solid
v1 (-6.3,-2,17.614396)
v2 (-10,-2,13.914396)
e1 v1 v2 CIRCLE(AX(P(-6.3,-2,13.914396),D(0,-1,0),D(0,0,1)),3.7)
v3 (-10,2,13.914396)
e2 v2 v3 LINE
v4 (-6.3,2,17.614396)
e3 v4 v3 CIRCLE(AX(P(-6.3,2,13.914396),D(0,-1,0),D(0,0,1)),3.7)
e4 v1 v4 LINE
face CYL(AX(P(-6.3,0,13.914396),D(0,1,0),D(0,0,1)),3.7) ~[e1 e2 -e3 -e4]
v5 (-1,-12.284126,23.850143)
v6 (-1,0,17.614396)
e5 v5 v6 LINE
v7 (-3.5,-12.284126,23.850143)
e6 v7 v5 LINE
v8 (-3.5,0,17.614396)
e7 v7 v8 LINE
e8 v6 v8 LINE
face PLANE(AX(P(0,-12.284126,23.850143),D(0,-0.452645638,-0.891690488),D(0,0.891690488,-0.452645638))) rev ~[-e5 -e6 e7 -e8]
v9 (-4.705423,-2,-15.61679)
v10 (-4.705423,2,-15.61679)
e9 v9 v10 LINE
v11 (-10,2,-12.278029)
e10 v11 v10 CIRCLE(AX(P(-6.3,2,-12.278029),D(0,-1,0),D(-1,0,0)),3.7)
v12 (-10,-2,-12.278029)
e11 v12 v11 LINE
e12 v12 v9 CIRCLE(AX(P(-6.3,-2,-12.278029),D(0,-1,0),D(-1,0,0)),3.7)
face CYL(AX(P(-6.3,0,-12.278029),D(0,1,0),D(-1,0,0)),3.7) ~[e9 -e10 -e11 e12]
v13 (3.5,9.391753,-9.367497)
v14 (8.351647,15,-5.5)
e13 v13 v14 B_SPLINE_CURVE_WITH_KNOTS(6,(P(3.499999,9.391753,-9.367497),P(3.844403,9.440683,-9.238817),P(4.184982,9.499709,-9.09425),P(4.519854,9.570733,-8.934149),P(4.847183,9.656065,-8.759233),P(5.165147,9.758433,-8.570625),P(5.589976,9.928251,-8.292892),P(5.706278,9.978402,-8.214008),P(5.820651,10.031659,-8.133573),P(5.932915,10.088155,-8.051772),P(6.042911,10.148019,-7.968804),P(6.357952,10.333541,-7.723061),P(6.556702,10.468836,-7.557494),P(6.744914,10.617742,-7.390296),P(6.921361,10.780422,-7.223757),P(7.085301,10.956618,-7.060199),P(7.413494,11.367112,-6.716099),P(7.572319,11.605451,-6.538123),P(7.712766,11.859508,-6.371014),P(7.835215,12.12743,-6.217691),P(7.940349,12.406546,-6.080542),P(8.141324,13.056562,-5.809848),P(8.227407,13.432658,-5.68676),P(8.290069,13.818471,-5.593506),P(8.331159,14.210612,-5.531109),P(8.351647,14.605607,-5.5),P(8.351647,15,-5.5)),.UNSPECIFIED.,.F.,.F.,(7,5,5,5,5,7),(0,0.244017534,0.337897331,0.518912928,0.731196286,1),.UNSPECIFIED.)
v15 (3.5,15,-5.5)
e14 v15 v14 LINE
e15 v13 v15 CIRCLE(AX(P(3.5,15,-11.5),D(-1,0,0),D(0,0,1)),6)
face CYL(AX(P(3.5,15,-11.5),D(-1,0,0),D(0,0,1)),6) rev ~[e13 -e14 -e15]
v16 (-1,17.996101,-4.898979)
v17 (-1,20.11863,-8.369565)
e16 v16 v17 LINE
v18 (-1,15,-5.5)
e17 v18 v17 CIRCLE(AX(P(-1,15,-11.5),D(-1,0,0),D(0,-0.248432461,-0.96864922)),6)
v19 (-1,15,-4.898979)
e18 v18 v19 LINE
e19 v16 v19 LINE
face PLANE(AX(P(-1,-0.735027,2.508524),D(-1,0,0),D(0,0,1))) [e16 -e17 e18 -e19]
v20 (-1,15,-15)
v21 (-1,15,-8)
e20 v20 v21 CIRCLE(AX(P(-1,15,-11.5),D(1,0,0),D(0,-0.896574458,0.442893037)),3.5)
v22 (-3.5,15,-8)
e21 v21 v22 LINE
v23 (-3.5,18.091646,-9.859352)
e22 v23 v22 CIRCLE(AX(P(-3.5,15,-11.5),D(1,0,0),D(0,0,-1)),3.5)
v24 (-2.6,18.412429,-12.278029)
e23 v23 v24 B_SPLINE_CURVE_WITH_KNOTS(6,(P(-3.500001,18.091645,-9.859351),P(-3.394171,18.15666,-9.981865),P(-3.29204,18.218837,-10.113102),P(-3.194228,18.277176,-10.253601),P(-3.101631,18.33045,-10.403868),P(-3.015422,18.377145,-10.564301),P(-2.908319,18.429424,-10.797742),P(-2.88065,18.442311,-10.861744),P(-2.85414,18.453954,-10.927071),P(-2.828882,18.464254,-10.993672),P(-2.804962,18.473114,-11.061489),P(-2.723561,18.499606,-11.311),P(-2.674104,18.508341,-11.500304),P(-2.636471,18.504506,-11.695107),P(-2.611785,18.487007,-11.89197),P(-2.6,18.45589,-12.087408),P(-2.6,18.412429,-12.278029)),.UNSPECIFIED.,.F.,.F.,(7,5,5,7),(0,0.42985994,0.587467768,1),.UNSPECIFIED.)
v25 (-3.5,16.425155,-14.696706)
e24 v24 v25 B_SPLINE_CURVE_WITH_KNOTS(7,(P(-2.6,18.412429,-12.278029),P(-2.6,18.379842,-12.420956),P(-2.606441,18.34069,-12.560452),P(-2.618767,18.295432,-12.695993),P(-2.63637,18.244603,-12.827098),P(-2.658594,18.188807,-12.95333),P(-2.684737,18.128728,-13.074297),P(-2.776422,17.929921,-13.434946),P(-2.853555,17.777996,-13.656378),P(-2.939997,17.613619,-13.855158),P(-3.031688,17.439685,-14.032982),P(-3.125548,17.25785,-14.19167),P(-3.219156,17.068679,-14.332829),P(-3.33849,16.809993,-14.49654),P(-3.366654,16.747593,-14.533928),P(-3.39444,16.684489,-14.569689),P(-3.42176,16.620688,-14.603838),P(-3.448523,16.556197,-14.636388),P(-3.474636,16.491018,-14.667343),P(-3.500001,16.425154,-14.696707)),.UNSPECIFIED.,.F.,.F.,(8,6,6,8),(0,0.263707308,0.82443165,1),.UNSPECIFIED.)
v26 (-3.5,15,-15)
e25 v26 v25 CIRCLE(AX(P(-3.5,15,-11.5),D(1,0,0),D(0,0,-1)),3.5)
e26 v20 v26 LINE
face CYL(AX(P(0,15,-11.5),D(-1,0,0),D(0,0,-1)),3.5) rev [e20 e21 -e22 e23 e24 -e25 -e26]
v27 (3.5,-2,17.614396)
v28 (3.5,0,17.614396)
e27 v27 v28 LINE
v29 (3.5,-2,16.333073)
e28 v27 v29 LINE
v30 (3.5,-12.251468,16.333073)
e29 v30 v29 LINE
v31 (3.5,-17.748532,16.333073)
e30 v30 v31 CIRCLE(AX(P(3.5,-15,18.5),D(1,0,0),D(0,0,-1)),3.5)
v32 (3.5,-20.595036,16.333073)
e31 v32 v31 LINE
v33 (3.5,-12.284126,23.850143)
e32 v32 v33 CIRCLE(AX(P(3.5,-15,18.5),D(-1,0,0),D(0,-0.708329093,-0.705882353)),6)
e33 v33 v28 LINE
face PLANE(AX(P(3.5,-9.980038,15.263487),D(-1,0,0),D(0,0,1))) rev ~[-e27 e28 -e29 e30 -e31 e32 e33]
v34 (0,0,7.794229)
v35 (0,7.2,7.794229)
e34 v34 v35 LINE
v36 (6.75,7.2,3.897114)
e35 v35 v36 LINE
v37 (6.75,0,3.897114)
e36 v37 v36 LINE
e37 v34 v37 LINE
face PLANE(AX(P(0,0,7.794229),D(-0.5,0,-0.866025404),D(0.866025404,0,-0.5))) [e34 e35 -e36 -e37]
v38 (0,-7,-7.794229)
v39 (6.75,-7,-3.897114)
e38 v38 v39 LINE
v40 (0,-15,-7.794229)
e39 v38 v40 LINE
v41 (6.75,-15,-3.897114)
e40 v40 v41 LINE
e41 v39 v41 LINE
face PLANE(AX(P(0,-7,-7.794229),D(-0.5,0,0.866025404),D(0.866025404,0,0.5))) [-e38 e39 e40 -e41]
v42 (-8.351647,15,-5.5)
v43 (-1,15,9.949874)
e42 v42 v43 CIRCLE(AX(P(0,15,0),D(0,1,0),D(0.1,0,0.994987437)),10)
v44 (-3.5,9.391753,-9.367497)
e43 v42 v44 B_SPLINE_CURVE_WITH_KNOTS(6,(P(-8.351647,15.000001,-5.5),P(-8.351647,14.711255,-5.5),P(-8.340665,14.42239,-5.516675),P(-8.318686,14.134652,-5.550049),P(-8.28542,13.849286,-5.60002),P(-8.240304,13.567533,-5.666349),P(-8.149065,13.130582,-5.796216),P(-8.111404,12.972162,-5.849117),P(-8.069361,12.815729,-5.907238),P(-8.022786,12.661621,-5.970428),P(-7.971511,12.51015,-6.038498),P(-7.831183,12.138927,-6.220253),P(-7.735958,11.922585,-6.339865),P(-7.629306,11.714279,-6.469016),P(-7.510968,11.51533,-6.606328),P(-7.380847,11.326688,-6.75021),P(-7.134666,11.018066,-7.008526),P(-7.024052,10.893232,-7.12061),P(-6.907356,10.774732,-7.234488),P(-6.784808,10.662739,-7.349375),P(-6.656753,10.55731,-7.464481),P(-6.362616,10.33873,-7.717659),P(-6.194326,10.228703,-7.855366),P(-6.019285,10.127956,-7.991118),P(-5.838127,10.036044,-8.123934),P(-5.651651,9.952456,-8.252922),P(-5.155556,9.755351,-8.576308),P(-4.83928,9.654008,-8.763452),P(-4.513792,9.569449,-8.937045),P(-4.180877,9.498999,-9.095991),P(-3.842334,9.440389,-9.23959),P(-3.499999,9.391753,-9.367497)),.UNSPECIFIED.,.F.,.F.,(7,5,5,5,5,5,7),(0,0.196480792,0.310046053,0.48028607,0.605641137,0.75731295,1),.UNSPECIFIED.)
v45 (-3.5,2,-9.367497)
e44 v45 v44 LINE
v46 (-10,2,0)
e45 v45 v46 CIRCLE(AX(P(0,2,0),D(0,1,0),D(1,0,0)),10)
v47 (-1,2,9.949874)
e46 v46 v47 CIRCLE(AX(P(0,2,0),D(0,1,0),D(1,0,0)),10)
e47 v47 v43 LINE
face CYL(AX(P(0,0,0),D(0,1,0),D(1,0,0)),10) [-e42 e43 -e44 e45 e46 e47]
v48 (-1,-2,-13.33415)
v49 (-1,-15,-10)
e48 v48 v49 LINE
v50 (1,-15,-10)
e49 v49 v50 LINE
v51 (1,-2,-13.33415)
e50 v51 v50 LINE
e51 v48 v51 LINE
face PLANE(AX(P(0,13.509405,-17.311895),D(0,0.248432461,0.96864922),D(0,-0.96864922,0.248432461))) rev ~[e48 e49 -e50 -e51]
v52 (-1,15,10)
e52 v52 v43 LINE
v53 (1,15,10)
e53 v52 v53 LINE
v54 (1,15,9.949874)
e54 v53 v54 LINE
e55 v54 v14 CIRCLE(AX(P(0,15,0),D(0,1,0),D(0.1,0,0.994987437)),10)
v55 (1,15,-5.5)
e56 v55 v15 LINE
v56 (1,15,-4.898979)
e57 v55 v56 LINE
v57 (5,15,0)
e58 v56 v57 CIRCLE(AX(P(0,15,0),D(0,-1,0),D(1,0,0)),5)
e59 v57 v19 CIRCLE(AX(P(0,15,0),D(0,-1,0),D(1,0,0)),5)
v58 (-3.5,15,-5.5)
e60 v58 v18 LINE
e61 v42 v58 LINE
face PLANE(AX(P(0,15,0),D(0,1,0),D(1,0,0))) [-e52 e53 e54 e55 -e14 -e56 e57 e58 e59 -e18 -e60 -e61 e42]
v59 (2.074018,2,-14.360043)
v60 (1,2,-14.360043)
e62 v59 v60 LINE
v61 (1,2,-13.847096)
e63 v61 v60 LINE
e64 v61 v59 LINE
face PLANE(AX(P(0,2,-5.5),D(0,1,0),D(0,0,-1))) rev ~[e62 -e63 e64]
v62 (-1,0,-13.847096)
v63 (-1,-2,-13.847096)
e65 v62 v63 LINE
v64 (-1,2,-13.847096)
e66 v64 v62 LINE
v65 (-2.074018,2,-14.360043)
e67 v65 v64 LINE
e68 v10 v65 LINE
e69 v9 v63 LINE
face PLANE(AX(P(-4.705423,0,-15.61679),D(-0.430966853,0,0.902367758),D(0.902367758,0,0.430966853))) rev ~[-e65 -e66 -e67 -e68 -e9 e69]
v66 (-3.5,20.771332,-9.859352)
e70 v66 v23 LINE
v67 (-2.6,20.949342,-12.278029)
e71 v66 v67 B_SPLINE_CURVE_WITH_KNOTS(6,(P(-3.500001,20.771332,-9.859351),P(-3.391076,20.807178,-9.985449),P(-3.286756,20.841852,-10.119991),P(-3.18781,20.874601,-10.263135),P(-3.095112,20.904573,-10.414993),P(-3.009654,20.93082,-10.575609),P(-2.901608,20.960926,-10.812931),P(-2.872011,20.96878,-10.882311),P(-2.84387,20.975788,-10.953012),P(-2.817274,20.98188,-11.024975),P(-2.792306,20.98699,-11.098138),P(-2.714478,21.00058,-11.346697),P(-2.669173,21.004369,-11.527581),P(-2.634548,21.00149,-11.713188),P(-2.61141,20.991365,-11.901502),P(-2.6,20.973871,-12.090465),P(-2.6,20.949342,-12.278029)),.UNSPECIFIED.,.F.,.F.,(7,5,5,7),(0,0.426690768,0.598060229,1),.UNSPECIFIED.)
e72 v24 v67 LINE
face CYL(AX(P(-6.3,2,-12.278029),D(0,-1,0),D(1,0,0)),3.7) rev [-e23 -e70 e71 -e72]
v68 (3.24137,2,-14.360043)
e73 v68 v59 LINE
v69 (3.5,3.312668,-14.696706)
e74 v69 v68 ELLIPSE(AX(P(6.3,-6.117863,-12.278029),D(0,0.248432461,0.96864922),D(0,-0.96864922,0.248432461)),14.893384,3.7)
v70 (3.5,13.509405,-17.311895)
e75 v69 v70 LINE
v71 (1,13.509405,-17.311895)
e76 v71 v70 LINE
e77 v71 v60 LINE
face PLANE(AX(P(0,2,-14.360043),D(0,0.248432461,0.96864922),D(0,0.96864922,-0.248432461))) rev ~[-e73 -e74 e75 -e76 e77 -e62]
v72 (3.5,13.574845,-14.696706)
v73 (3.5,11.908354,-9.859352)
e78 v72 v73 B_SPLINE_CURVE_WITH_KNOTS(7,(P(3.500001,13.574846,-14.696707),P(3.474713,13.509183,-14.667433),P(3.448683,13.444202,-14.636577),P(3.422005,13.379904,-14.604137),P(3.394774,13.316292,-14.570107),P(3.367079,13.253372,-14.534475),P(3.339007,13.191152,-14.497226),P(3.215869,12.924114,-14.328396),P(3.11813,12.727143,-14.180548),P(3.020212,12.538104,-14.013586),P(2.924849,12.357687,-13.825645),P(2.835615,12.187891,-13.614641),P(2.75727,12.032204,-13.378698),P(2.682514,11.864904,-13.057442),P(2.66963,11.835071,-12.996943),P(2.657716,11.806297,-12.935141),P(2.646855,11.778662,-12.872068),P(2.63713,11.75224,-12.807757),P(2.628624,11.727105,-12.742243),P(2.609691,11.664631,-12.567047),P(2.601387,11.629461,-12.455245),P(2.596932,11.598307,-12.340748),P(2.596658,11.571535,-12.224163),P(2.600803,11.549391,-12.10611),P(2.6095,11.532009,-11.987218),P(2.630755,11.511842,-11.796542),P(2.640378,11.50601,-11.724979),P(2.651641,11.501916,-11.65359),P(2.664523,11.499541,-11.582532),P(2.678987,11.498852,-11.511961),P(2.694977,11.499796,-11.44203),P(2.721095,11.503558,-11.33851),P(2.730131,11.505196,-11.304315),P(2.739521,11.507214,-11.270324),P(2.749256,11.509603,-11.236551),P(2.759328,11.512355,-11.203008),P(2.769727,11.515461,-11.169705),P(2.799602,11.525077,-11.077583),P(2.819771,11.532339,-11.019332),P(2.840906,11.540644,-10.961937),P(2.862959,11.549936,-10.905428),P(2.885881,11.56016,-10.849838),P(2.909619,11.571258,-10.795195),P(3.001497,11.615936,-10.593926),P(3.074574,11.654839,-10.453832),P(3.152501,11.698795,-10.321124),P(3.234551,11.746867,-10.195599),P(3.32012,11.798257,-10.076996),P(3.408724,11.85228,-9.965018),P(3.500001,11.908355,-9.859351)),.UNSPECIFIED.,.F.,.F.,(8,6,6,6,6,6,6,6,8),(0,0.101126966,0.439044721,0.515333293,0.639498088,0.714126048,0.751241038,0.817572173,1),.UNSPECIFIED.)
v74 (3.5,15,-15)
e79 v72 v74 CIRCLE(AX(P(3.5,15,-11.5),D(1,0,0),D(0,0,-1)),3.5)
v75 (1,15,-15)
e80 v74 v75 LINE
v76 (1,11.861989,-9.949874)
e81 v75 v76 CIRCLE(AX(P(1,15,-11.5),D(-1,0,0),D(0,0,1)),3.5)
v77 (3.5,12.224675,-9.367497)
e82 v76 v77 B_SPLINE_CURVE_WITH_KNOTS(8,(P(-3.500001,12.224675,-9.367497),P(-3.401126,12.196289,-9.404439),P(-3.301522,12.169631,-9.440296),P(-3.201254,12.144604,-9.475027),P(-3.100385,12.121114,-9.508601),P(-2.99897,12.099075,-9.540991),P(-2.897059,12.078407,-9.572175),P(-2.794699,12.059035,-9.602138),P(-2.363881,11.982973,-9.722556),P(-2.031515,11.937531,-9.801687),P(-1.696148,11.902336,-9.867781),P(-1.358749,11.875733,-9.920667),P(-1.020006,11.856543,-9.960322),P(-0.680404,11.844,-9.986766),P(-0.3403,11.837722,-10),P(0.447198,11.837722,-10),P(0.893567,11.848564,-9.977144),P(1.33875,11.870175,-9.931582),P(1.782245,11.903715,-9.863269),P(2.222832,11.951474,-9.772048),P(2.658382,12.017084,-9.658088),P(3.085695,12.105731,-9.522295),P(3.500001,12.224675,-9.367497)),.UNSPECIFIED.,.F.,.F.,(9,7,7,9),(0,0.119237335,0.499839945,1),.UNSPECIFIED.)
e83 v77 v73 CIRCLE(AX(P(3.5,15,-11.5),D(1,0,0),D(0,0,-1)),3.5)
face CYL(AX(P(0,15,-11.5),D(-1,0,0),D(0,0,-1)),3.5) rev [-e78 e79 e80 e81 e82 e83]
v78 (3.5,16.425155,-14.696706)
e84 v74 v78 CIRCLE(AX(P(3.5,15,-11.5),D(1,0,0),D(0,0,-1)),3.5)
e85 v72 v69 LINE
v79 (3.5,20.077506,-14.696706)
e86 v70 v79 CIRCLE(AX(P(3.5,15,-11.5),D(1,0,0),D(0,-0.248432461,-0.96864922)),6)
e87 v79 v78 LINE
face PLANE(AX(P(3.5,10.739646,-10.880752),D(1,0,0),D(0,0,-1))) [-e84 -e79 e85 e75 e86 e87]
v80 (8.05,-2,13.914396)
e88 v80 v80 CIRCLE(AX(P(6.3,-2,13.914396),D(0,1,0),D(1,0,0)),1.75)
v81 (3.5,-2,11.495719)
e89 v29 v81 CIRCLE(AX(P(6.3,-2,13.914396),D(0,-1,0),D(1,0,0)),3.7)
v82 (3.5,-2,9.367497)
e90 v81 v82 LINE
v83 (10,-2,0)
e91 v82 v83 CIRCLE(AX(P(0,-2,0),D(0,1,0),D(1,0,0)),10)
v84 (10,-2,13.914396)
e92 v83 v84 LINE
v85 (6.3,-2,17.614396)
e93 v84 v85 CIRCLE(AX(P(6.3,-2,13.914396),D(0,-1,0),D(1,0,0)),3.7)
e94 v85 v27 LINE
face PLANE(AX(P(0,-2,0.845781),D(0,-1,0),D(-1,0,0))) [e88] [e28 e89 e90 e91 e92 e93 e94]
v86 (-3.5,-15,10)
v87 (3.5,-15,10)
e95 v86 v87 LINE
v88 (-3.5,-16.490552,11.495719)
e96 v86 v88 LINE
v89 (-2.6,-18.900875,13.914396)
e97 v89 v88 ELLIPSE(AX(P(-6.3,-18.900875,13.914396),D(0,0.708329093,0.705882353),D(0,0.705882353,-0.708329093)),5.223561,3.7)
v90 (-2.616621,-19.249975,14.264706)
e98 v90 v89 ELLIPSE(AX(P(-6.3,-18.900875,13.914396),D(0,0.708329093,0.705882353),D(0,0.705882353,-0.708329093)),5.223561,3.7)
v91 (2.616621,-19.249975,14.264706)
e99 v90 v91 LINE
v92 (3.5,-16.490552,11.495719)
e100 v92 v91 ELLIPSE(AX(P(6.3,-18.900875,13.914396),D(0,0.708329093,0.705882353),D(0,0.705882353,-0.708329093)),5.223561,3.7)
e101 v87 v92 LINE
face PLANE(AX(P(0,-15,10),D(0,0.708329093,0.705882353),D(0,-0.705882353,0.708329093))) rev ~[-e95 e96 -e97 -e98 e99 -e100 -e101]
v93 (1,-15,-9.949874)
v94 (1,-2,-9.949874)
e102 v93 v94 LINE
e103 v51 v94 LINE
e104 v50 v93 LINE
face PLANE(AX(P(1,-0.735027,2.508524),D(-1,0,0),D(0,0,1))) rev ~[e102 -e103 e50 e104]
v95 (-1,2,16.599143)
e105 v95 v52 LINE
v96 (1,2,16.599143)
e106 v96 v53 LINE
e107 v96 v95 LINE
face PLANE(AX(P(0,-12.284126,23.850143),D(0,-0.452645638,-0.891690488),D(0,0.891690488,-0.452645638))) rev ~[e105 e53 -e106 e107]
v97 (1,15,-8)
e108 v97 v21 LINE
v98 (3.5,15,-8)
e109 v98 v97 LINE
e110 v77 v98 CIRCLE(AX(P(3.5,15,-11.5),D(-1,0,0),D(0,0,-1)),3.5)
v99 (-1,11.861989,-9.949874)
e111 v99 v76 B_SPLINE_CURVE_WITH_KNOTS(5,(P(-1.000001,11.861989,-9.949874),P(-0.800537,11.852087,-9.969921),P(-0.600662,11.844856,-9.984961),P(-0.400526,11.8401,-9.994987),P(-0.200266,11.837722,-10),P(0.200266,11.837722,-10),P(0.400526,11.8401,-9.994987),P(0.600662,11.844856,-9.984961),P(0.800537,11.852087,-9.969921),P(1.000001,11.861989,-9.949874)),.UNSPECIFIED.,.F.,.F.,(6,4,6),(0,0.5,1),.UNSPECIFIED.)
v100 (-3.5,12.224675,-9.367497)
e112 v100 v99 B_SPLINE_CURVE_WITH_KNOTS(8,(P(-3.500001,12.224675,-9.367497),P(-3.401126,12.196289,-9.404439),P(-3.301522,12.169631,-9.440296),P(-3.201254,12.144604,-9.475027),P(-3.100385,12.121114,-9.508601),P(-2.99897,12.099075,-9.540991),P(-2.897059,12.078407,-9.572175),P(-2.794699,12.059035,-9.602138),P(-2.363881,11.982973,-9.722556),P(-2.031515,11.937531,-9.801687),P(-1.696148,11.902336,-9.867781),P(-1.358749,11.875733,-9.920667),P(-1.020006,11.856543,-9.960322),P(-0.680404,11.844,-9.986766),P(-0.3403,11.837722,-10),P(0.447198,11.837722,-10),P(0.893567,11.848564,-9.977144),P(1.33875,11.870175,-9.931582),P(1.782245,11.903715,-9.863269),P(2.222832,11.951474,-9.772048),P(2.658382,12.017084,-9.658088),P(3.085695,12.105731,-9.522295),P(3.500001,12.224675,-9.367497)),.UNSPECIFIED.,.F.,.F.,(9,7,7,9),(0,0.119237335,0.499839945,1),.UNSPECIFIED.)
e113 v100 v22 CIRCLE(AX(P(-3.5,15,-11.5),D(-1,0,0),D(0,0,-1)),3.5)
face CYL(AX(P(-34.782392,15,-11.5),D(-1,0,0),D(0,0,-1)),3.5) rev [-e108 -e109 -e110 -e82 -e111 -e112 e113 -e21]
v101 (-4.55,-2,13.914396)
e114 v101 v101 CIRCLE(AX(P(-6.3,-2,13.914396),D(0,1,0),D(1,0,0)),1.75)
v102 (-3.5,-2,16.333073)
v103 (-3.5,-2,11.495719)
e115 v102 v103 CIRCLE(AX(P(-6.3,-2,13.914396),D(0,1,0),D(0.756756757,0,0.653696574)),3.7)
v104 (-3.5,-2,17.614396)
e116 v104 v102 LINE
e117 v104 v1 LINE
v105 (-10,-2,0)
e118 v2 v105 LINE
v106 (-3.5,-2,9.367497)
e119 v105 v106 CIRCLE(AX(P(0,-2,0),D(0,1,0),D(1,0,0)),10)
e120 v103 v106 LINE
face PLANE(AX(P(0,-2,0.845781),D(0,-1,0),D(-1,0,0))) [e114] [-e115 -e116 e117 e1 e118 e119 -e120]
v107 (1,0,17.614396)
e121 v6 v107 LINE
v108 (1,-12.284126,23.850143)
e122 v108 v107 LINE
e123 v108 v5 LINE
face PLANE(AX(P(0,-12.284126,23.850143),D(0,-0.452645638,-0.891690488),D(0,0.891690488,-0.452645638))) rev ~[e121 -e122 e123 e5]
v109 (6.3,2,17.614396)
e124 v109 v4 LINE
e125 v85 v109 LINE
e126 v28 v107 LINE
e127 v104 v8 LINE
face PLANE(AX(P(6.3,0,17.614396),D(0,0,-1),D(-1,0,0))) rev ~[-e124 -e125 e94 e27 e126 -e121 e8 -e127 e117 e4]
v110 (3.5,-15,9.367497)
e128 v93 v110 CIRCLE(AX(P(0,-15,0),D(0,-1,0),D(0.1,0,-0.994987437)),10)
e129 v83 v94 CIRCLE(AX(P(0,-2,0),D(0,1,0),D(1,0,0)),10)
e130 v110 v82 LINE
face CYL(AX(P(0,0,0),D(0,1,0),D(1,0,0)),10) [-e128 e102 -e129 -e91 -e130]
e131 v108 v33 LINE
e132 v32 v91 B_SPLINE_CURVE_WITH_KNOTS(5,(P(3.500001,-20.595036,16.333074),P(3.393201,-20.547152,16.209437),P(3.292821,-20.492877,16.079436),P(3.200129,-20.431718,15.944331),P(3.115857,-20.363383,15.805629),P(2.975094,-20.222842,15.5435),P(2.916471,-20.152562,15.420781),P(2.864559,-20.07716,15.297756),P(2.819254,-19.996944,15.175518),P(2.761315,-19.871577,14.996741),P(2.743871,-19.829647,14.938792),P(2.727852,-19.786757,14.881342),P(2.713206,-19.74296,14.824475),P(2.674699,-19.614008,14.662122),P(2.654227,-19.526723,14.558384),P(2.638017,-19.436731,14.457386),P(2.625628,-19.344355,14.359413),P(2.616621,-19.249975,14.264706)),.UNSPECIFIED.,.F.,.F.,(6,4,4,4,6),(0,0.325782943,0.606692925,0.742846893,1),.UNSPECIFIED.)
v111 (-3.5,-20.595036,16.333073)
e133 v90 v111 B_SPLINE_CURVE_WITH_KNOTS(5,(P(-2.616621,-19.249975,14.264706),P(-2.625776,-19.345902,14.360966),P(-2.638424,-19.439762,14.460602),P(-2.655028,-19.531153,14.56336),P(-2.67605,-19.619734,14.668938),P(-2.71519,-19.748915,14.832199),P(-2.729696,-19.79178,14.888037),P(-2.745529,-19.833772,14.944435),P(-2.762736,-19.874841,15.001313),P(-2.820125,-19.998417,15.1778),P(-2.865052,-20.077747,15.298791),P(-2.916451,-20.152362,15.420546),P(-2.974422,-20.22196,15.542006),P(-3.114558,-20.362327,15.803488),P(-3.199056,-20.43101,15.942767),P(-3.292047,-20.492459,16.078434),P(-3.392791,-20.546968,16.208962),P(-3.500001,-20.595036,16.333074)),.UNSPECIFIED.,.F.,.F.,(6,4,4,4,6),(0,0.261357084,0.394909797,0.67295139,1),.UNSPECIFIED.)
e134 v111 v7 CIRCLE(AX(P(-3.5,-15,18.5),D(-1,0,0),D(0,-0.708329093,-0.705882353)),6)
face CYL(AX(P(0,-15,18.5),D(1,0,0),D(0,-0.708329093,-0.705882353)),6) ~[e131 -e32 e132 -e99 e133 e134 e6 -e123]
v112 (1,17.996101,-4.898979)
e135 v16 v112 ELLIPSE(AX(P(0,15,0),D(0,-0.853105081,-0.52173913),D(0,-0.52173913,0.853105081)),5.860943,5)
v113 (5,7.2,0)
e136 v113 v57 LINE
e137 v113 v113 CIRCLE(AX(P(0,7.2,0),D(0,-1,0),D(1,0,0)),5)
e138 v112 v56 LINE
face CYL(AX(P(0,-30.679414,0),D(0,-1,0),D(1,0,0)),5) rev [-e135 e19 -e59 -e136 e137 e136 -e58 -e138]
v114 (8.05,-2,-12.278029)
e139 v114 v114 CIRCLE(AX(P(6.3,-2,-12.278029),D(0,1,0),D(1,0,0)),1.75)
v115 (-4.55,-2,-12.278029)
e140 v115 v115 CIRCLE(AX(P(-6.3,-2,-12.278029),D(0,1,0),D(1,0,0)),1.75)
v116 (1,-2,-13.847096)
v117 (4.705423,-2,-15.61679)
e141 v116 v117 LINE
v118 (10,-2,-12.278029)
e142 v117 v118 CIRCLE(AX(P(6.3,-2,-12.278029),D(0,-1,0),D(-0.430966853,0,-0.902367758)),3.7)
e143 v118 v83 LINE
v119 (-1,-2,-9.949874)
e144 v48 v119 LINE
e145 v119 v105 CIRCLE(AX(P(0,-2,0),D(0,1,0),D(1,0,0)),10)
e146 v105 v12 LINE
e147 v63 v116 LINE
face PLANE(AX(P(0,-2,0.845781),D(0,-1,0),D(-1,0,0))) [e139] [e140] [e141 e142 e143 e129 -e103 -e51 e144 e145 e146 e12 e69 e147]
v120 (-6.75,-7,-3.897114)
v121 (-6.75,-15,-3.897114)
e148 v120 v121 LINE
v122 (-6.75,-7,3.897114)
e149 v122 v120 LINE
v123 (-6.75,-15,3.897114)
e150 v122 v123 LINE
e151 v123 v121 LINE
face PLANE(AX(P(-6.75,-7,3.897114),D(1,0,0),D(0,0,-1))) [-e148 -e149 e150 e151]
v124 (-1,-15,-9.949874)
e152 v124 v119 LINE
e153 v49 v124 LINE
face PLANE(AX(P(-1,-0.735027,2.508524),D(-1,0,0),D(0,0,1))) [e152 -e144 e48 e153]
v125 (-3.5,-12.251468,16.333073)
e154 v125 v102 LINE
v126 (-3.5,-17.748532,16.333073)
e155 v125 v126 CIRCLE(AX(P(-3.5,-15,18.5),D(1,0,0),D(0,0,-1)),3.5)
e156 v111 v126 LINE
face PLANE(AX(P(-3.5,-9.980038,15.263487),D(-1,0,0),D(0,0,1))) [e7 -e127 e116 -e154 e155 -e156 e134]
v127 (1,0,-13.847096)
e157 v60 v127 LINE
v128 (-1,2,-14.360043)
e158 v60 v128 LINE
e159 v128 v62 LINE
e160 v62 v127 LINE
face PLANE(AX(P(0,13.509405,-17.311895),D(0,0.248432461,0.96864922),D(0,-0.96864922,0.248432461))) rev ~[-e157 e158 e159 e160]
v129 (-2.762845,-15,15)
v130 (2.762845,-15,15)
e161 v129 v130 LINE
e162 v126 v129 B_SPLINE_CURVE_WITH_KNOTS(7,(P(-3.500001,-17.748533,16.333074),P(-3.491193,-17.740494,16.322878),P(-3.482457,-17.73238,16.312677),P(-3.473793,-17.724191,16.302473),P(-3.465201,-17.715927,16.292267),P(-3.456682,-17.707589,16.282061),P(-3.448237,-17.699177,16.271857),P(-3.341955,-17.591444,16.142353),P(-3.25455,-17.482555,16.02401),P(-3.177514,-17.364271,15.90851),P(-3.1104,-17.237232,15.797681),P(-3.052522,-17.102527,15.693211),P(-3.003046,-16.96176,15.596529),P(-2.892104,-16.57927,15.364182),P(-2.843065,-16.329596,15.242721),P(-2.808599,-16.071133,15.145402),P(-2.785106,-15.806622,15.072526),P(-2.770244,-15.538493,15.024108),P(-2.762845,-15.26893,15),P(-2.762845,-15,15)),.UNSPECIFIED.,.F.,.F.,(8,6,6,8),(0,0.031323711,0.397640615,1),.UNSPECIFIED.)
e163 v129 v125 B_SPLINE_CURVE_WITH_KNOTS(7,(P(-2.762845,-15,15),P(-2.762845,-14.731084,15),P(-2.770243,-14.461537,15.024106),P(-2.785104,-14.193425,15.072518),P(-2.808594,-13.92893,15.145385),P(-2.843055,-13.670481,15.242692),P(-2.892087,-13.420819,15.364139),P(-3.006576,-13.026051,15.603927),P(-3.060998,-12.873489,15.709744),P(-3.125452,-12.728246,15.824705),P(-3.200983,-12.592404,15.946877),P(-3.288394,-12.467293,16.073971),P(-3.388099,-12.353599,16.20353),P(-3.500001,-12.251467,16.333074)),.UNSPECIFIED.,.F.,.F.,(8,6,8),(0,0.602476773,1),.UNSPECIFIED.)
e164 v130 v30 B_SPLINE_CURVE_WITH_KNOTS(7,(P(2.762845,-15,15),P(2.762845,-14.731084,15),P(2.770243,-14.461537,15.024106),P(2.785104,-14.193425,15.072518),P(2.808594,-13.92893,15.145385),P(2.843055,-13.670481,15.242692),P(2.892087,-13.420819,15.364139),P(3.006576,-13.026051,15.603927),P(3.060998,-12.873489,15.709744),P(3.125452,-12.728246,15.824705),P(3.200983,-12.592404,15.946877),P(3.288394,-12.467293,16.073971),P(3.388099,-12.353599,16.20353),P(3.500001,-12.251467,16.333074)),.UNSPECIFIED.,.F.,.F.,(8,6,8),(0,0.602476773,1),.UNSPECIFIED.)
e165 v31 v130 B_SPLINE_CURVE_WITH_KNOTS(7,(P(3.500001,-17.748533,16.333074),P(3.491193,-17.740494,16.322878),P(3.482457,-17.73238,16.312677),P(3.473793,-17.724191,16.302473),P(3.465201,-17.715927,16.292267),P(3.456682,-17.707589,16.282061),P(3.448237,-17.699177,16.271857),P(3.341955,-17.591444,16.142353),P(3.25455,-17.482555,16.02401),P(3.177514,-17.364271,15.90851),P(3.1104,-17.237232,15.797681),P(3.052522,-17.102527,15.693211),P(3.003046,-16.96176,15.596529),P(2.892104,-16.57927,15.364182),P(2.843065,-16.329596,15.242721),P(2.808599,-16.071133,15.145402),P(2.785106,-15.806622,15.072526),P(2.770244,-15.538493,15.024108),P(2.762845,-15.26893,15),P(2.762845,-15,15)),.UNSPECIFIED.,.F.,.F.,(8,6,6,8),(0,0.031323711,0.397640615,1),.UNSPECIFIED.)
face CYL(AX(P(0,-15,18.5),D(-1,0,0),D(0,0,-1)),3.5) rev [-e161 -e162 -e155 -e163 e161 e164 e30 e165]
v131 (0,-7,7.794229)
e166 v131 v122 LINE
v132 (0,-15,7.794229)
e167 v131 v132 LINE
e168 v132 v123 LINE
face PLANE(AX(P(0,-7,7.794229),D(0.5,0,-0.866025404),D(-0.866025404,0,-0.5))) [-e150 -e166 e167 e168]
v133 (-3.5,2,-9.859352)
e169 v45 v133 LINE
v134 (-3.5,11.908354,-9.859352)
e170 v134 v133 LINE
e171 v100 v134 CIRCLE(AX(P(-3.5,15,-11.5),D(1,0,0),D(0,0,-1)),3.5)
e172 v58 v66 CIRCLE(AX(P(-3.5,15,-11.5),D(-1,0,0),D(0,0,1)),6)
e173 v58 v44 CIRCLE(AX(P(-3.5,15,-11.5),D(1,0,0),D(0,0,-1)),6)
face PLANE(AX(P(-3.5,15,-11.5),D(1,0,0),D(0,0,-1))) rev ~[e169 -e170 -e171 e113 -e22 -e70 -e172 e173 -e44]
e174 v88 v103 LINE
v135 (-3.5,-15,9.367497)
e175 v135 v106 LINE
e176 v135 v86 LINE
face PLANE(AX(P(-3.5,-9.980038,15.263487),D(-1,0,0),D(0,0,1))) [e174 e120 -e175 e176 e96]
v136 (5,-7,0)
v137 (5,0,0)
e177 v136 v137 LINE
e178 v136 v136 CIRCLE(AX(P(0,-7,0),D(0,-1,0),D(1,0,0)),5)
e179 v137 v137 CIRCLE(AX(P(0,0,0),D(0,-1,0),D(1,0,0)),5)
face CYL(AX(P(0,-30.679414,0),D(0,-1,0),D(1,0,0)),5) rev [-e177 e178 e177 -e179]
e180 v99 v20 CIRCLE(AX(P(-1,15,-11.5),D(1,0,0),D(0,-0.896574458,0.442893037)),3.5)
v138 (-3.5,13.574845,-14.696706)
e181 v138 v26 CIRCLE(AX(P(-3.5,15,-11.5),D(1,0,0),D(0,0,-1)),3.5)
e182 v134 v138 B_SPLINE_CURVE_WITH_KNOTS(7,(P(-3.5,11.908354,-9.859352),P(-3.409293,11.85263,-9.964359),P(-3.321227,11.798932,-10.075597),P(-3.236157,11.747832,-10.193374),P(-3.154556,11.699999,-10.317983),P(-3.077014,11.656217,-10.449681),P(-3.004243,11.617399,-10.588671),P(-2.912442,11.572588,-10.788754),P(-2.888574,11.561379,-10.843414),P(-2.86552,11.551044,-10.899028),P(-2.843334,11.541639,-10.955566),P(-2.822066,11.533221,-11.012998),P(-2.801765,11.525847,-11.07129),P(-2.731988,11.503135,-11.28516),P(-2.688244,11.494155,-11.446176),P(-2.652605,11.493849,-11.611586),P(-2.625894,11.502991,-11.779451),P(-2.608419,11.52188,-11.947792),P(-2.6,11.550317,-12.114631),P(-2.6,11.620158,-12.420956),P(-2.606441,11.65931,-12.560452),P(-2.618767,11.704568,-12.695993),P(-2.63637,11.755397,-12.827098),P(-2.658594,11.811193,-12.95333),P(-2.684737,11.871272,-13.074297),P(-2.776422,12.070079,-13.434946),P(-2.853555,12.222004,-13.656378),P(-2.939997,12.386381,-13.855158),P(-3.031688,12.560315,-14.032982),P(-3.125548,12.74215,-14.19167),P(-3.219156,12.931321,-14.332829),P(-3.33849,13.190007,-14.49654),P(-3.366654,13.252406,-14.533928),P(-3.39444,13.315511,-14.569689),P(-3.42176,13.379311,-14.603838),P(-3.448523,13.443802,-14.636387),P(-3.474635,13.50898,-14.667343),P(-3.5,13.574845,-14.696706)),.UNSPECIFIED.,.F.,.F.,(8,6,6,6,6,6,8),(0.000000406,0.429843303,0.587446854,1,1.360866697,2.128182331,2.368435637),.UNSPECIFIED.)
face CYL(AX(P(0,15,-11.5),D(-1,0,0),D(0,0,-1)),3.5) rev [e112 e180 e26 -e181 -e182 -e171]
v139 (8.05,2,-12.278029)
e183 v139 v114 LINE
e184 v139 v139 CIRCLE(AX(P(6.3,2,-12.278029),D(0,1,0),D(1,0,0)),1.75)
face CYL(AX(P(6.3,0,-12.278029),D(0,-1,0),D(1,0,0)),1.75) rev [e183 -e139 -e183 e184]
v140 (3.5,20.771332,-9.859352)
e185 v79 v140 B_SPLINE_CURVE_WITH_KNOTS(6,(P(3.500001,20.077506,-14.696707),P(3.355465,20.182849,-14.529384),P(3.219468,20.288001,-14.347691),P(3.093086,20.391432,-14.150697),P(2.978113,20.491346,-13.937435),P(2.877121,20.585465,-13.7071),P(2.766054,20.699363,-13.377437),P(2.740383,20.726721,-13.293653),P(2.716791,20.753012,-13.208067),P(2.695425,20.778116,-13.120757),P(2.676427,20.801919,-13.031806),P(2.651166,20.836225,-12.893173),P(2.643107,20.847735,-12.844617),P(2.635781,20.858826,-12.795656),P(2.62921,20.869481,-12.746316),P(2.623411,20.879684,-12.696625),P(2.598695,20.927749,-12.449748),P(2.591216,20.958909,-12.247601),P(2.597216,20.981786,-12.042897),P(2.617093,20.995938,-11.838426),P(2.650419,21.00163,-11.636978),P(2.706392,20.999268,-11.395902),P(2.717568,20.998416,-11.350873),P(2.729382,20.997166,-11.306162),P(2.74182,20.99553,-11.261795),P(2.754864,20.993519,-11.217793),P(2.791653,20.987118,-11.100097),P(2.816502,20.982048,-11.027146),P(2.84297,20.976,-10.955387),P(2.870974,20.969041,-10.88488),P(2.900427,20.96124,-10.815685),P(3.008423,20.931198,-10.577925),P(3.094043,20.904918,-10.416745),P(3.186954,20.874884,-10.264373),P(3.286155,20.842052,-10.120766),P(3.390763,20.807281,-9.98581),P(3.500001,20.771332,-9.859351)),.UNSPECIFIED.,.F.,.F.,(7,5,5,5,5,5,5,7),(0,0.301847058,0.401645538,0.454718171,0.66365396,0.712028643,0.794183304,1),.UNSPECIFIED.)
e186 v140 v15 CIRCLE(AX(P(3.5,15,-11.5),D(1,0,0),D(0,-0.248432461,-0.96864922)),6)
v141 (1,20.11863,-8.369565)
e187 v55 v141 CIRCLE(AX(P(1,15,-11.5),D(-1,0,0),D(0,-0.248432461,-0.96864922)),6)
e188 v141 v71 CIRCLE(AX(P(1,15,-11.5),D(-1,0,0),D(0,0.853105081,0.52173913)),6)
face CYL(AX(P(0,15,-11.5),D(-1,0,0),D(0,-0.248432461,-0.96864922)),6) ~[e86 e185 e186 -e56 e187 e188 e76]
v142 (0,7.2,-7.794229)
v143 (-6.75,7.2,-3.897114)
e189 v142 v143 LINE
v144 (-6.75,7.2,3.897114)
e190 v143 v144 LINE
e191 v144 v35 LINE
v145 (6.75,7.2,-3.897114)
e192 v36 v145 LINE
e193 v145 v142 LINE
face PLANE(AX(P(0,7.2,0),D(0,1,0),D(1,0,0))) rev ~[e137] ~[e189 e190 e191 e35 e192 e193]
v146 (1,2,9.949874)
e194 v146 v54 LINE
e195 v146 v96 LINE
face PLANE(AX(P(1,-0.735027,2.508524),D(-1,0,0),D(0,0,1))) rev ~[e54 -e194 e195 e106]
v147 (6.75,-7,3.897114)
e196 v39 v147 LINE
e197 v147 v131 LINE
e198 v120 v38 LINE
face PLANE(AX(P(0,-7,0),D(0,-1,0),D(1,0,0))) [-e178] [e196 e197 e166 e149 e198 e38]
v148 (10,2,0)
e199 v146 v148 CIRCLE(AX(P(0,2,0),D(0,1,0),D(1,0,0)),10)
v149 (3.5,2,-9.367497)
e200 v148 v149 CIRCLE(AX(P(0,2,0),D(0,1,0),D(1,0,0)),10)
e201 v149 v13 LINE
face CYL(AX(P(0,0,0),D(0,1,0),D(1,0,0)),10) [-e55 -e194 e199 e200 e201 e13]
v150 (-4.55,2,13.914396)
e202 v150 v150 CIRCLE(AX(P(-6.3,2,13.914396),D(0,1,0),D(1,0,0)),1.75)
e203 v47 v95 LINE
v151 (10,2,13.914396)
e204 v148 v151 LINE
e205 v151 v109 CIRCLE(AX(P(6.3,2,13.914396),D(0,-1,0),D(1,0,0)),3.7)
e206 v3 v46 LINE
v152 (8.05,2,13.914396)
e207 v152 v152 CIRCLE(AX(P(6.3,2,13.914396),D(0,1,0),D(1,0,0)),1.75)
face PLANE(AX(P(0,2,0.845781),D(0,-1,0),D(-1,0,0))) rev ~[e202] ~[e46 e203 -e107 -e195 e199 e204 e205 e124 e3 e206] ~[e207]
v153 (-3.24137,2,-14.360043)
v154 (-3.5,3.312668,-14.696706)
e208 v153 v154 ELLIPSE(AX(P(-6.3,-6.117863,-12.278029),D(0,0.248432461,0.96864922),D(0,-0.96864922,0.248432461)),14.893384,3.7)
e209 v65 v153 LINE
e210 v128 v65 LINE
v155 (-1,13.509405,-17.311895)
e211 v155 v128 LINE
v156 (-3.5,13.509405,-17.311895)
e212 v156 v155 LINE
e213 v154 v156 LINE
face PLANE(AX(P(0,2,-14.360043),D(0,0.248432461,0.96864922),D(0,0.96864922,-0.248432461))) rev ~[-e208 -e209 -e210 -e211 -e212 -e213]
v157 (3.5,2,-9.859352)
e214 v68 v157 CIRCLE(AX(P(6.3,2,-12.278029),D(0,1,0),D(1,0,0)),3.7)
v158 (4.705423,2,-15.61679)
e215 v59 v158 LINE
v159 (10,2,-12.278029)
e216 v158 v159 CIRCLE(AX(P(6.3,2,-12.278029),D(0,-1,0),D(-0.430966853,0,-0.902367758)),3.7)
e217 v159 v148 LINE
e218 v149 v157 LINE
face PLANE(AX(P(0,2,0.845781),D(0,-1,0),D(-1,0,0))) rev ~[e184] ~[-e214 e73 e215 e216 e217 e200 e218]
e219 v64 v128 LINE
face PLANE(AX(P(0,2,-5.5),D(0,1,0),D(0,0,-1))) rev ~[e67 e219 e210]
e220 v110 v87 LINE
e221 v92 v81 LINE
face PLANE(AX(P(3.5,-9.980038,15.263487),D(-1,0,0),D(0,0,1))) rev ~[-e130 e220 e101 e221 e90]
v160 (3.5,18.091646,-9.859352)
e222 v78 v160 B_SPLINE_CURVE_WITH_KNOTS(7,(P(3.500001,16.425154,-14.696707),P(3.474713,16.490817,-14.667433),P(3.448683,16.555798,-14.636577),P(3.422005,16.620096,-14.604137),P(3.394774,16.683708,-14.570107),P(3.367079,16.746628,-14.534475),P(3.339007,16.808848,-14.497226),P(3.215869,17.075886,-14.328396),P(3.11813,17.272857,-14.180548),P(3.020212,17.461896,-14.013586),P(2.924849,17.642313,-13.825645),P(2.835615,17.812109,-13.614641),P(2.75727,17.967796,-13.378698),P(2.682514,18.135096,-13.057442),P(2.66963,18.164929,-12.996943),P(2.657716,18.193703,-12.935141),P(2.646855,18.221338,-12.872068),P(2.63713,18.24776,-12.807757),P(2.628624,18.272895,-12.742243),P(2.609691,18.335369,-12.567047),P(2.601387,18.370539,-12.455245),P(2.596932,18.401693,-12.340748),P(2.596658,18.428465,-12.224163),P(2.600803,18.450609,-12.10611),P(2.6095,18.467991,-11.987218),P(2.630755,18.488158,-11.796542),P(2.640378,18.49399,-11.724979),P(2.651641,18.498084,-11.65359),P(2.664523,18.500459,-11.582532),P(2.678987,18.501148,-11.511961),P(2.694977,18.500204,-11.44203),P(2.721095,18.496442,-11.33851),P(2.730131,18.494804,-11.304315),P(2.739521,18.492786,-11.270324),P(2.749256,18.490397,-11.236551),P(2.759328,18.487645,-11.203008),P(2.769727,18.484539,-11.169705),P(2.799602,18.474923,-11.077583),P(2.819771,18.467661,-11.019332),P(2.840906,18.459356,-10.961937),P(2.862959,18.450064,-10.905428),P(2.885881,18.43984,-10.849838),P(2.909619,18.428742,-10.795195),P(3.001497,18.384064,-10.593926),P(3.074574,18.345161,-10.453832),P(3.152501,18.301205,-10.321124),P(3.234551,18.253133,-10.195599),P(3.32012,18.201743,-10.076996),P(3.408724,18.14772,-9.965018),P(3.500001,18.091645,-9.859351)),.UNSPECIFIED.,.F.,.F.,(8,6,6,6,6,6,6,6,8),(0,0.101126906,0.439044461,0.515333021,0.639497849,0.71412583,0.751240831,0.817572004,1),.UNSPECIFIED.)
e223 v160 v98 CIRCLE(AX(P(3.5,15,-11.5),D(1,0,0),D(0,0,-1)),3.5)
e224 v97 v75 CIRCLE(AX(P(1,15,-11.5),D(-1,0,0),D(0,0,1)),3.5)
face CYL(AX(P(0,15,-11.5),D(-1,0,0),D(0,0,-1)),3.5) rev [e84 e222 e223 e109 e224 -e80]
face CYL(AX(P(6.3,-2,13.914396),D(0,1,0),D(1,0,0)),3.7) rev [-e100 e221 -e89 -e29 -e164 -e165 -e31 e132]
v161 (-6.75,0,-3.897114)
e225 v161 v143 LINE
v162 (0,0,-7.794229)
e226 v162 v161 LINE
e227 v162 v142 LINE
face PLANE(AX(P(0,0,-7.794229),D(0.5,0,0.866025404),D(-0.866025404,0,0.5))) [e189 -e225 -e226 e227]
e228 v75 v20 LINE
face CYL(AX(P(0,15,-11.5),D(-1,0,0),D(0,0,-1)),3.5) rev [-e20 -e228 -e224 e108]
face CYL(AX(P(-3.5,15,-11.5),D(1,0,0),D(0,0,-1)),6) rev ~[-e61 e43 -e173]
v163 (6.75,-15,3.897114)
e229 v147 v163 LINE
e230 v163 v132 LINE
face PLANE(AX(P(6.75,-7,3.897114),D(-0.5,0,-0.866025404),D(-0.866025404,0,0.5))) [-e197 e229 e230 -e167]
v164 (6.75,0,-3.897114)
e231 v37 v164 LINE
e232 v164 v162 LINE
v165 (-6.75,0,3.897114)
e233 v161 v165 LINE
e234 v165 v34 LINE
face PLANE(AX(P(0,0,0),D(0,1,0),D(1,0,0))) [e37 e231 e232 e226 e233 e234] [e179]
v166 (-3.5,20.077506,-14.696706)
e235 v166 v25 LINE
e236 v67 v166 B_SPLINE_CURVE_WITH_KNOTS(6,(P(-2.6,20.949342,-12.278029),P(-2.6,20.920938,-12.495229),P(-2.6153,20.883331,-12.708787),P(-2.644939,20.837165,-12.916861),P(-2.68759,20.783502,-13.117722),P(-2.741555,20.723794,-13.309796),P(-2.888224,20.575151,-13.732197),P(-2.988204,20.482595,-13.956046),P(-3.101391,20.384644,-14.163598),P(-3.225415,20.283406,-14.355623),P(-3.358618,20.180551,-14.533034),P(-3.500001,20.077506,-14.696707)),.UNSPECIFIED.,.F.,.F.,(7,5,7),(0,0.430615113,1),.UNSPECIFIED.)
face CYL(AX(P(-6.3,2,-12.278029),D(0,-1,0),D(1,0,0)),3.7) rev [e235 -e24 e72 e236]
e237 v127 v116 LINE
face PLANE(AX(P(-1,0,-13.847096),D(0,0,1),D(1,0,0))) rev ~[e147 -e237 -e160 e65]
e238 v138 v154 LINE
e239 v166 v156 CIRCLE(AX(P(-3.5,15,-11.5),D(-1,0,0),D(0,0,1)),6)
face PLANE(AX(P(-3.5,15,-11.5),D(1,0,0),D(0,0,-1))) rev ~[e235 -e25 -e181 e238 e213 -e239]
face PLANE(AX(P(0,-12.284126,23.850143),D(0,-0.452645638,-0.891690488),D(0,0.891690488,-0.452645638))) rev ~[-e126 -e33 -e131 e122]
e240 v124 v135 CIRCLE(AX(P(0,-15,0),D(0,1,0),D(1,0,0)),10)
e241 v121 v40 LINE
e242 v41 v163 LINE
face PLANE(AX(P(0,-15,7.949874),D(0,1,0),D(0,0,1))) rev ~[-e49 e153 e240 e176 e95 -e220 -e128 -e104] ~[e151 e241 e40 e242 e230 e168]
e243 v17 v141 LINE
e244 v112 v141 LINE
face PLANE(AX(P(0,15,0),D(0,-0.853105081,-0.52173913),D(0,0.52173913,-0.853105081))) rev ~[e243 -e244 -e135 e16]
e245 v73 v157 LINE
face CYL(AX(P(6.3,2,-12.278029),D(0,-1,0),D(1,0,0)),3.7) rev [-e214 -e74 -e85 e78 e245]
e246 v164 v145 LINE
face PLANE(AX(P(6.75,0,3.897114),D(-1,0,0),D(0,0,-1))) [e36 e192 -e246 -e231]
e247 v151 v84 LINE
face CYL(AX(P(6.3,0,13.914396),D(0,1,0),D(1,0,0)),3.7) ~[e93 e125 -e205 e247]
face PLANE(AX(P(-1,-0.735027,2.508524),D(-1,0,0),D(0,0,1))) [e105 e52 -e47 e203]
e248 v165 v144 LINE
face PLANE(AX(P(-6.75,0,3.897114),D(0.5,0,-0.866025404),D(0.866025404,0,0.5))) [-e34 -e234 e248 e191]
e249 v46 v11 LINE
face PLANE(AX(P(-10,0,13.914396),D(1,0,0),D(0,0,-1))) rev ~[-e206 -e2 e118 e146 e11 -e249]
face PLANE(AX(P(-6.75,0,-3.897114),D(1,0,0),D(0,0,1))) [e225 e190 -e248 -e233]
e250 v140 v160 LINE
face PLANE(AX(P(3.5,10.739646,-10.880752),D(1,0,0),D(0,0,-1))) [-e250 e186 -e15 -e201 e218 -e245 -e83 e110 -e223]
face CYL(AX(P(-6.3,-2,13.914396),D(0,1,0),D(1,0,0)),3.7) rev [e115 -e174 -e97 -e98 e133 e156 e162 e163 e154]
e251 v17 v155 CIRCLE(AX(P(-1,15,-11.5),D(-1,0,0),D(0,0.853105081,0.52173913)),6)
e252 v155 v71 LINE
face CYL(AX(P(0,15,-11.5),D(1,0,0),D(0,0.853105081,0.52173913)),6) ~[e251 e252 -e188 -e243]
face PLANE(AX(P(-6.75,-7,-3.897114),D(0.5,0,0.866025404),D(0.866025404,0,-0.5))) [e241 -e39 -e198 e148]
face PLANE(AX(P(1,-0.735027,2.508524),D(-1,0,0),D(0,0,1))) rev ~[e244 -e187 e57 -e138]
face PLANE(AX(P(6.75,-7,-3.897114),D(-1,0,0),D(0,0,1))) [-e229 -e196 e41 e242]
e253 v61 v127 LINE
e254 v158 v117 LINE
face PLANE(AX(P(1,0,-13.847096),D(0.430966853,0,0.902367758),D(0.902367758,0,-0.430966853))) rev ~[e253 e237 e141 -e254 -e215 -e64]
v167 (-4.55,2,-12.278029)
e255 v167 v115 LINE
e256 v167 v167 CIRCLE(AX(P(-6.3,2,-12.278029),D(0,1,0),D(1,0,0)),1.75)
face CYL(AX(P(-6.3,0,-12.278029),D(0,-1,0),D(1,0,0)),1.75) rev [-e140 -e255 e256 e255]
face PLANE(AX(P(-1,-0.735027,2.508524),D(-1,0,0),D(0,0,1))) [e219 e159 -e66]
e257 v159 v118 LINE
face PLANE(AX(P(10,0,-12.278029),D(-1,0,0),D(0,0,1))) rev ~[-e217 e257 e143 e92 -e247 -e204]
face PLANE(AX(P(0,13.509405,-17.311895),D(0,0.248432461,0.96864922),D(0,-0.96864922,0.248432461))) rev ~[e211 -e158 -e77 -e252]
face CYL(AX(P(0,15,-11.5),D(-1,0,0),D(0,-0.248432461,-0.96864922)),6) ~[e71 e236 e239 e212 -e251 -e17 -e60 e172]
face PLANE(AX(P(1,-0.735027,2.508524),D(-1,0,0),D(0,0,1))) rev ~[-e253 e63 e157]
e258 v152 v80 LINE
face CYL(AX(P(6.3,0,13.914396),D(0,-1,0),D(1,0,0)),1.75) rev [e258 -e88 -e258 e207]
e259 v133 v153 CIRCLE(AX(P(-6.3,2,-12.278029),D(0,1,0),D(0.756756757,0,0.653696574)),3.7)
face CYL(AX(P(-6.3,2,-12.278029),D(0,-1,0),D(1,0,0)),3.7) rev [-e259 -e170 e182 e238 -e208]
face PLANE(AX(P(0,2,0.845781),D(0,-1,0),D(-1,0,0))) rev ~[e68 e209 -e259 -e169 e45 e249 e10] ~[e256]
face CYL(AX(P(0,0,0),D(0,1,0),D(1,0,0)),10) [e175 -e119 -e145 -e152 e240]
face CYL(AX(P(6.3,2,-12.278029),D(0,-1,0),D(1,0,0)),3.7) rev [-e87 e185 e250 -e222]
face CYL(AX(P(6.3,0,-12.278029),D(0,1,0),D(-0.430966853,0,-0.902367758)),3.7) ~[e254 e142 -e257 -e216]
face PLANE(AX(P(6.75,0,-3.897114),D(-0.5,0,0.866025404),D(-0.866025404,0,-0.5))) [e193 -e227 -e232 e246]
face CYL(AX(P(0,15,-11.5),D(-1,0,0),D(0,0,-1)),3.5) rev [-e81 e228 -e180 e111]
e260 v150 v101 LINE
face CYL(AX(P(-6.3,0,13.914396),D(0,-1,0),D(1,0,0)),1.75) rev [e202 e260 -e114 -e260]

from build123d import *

# Parameters (mm, degrees)
SKETCH2_R                = 10
BOSS_EXTRUDE1_DEPTH      = 15
SKETCH3_R                = 3.5
BOSS_EXTRUDE2_DEPTH      = 1
SKETCH6_R                = 1.75
BOSS_EXTRUDE3_DEPTH      = 2
SKETCH9_R                = 3.5
BOSS_EXTRUDE4_DEPTH      = 3.5
CUT_EXTRUDE12_DEPTH      = 7.2
CUT_EXTRUDE3_DEPTH       = 45.679413626
CUT_EXTRUDE3_DEPTH_BACK  = 8
SKETCH14_R               = 6
CUT_EXTRUDE7_DEPTH       = 35.978564903
SKETCH15_R               = 6
CUT_EXTRUDE8_DEPTH       = 33.94692706
CUT_EXTRUDE2_DEPTH       = 45.679413626
CUT_EXTRUDE2_DEPTH_BACK  = 45.679413626
SKETCH8_R                = 5
SKETCH16_R               = 3.7
CUT_EXTRUDE9_DEPTH       = 36.060661745
SKETCH17_R               = 3.7
CUT_EXTRUDE10_DEPTH      = 36.060661811
CUT_EXTRUDE13_DEPTH      = 34.782392028
CUT_EXTRUDE13_DEPTH_BACK = 34.782392028
SKETCH21_R               = 3.5


with BuildPart() as part:
    # Sketch2 → Boss-Extrude1 (new, symmetric)
    with BuildSketch(Plane(origin=(0, 0, 0), x_dir=(1, 0, 0), z_dir=(0, 1, 0))):
        Circle(SKETCH2_R)
    extrude(amount=BOSS_EXTRUDE1_DEPTH, both=True)

    # Sketch3 → Boss-Extrude2 (add, symmetric)
    with BuildSketch(Plane(origin=(0, 0, 0), x_dir=(0, 0, -1), z_dir=(1, 0, 0))):
        with BuildLine():
            Line((10, -15), (-10, -15))
            Line((-10, -15), (-14.264705882, -19.249974557))
            ThreePointArc((-14.264705882, -19.249974557), (-22.027248631, -19.853711682), (-23.850142927, -12.284126171))
            Line((-23.850142927, -12.284126171), (-10, 15))
            Line((-10, 15), (0, 15))
            Line((0, 15), (8.369565217, 20.118630488))
            ThreePointArc((8.369565217, 20.118630488), (15.066233626, 19.825140177), (17.311895323, 13.509405234))
            Line((17.311895323, 13.509405234), (10, -15))
        make_face()
        with Locations((11.5, 15)):
            Circle(SKETCH3_R, mode=Mode.SUBTRACT)
        with Locations((-18.5, -15)):
            Circle(SKETCH3_R, mode=Mode.SUBTRACT)
    extrude(amount=BOSS_EXTRUDE2_DEPTH, both=True)

    # Sketch6 → Boss-Extrude3 (add, symmetric)
    with BuildSketch(Plane(origin=(0, 0, 0), x_dir=(1, 0, 0), z_dir=(0, 1, 0))):
        with BuildLine():
            Line((-4.705422643, 15.616789864), (-1, 13.847096386))
            Line((-1, 13.847096386), (1, 13.847096386))
            Line((1, 13.847096386), (4.705422643, 15.616789864))
            ThreePointArc((4.705422643, 15.616789864), (8.273583515, 15.407720534), (10, 12.278029158))
            Line((10, 12.278029158), (10, -13.9143961))
            ThreePointArc((10, -13.9143961), (8.91629509, -16.530691191), (6.3, -17.6143961))
            Line((6.3, -17.6143961), (-6.3, -17.6143961))
            ThreePointArc((-6.3, -17.6143961), (-8.91629509, -16.530691191), (-10, -13.9143961))
            Line((-10, -13.9143961), (-10, 12.278029158))
            ThreePointArc((-10, 12.278029158), (-8.273583515, 15.407720534), (-4.705422643, 15.616789864))
        make_face()
        with Locations((-6.3, 12.278029158)):
            Circle(SKETCH6_R, mode=Mode.SUBTRACT)
        with Locations((6.3, 12.278029158)):
            Circle(SKETCH6_R, mode=Mode.SUBTRACT)
        with Locations((6.3, -13.9143961)):
            Circle(SKETCH6_R, mode=Mode.SUBTRACT)
        with Locations((-6.3, -13.9143961)):
            Circle(SKETCH6_R, mode=Mode.SUBTRACT)
    extrude(amount=BOSS_EXTRUDE3_DEPTH, both=True)

    # Sketch9 → Boss-Extrude4 (add, symmetric)
    # profile 1 of 2: a face of its own
    with BuildSketch(Plane(origin=(0, 0, 0), x_dir=(0, 0, -1), z_dir=(1, 0, 0))):
        with BuildLine():
            Line((14.360042571, 2), (17.311895323, 13.509405234))
            ThreePointArc((17.311895323, 13.509405234), (12.251208381, 20.952788084), (5.5, 15))
            Line((5.5, 15), (5.5, 2))
            Line((5.5, 2), (14.360042571, 2))
        make_face()
        with Locations((11.5, 15)):
            Circle(SKETCH9_R, mode=Mode.SUBTRACT)
    # profile 2 of 2: a face of its own
    with BuildSketch(Plane(origin=(0, 0, 0), x_dir=(0, 0, -1), z_dir=(1, 0, 0))):
        with BuildLine():
            Line((-23.850142927, -12.284126171), (-17.6143961, 0))
            Line((-17.6143961, 0), (-7.949874371, 0))
            Line((-7.949874371, 0), (-7.949874371, -15))
            Line((-7.949874371, -15), (-10, -15))
            Line((-10, -15), (-14.264705882, -19.249974557))
            ThreePointArc((-14.264705882, -19.249974557), (-22.027248631, -19.853711682), (-23.850142927, -12.284126171))
        make_face()
        with Locations((-18.5, -15)):
            Circle(SKETCH9_R, mode=Mode.SUBTRACT)
    extrude(amount=BOSS_EXTRUDE4_DEPTH, both=True)

    # Sketch20 → Cut-Extrude12 (cut)
    with BuildSketch(Plane(origin=(0, 0, 0), x_dir=(1, 0, 0), z_dir=(0, 1, 0))):
        Polygon((0, -7.794228634), (6.75, -3.897114317), (6.75, 3.897114317), (0, 7.794228634), (-6.75, 3.897114317), (-6.75, -3.897114317), align=None)
    extrude(amount=CUT_EXTRUDE12_DEPTH, mode=Mode.SUBTRACT)

    # Sketch10 → Cut-Extrude3 (cut, two sides: drawn at the far end of the back side and taken through both)
    with BuildSketch(Plane.XZ.offset(15).offset(-CUT_EXTRUDE3_DEPTH_BACK)):
        Polygon((0, -7.794228634), (6.75, -3.897114317), (6.75, 3.897114317), (0, 7.794228634), (-6.75, 3.897114317), (-6.75, -3.897114317), align=None)
    extrude(amount=CUT_EXTRUDE3_DEPTH + CUT_EXTRUDE3_DEPTH_BACK, mode=Mode.SUBTRACT)

    # Sketch14 → Cut-Extrude7 (cut, through all)
    with BuildSketch(Plane(origin=(-3.5, 0, 0), x_dir=(0, 0, -1), z_dir=(1, 0, 0))):
        with Locations((11.5, 15)):
            Circle(SKETCH14_R)
        with Locations((-18.5, -15)):
            Circle(SKETCH14_R)
    extrude(amount=-CUT_EXTRUDE7_DEPTH, mode=Mode.SUBTRACT)

    # Sketch15 → Cut-Extrude8 (cut, through all)
    with BuildSketch(Plane(origin=(3.5, 0, 3), x_dir=(0, 0, 1), z_dir=(-1, 0, 0))):
        with Locations((15.5, -15)):
            Circle(SKETCH15_R)
        with Locations((-14.5, 15)):
            Circle(SKETCH15_R)
    extrude(amount=-CUT_EXTRUDE8_DEPTH, mode=Mode.SUBTRACT)

    # Sketch8 → Cut-Extrude2 (cut, two sides: drawn at the far end of the back side and taken through both)
    with BuildSketch(Plane(origin=(0, 15, 0), x_dir=(1, 0, 0), z_dir=(0, 1, 0)).offset(-CUT_EXTRUDE2_DEPTH_BACK)):
        Circle(SKETCH8_R)
    extrude(amount=CUT_EXTRUDE2_DEPTH + CUT_EXTRUDE2_DEPTH_BACK, mode=Mode.SUBTRACT)

    # Sketch16 → Cut-Extrude9 (cut, through all)
    with BuildSketch(Plane(origin=(0, 2, 0), x_dir=(1, 0, 0), z_dir=(0, 1, 0))):
        with Locations((6.3, 12.278029158)):
            Circle(SKETCH16_R)
        with Locations((-6.3, 12.278029158)):
            Circle(SKETCH16_R)
    extrude(amount=CUT_EXTRUDE9_DEPTH, mode=Mode.SUBTRACT)

    # Sketch17 → Cut-Extrude10 (cut, through all)
    with BuildSketch(Plane.XZ.offset(2)):
        with Locations((6.3, 13.9143961)):
            Circle(SKETCH17_R)
        with Locations((-6.3, 13.9143961)):
            Circle(SKETCH17_R)
        with Locations((6.3, -12.278029158)):
            Circle(SKETCH17_R)
        with Locations((-6.3, -12.278029158)):
            Circle(SKETCH17_R)
    extrude(amount=CUT_EXTRUDE10_DEPTH, mode=Mode.SUBTRACT)

    # Sketch21 → Cut-Extrude13 (cut, two sides: drawn at the far end of the back side and taken through both)
    with BuildSketch(Plane(origin=(0, 0, 0), x_dir=(0, 0, -1), z_dir=(1, 0, 0)).offset(-CUT_EXTRUDE13_DEPTH_BACK)):
        with Locations((11.5, 15)):
            Circle(SKETCH21_R)
    extrude(amount=CUT_EXTRUDE13_DEPTH + CUT_EXTRUDE13_DEPTH_BACK, mode=Mode.SUBTRACT)


solid = part.part
